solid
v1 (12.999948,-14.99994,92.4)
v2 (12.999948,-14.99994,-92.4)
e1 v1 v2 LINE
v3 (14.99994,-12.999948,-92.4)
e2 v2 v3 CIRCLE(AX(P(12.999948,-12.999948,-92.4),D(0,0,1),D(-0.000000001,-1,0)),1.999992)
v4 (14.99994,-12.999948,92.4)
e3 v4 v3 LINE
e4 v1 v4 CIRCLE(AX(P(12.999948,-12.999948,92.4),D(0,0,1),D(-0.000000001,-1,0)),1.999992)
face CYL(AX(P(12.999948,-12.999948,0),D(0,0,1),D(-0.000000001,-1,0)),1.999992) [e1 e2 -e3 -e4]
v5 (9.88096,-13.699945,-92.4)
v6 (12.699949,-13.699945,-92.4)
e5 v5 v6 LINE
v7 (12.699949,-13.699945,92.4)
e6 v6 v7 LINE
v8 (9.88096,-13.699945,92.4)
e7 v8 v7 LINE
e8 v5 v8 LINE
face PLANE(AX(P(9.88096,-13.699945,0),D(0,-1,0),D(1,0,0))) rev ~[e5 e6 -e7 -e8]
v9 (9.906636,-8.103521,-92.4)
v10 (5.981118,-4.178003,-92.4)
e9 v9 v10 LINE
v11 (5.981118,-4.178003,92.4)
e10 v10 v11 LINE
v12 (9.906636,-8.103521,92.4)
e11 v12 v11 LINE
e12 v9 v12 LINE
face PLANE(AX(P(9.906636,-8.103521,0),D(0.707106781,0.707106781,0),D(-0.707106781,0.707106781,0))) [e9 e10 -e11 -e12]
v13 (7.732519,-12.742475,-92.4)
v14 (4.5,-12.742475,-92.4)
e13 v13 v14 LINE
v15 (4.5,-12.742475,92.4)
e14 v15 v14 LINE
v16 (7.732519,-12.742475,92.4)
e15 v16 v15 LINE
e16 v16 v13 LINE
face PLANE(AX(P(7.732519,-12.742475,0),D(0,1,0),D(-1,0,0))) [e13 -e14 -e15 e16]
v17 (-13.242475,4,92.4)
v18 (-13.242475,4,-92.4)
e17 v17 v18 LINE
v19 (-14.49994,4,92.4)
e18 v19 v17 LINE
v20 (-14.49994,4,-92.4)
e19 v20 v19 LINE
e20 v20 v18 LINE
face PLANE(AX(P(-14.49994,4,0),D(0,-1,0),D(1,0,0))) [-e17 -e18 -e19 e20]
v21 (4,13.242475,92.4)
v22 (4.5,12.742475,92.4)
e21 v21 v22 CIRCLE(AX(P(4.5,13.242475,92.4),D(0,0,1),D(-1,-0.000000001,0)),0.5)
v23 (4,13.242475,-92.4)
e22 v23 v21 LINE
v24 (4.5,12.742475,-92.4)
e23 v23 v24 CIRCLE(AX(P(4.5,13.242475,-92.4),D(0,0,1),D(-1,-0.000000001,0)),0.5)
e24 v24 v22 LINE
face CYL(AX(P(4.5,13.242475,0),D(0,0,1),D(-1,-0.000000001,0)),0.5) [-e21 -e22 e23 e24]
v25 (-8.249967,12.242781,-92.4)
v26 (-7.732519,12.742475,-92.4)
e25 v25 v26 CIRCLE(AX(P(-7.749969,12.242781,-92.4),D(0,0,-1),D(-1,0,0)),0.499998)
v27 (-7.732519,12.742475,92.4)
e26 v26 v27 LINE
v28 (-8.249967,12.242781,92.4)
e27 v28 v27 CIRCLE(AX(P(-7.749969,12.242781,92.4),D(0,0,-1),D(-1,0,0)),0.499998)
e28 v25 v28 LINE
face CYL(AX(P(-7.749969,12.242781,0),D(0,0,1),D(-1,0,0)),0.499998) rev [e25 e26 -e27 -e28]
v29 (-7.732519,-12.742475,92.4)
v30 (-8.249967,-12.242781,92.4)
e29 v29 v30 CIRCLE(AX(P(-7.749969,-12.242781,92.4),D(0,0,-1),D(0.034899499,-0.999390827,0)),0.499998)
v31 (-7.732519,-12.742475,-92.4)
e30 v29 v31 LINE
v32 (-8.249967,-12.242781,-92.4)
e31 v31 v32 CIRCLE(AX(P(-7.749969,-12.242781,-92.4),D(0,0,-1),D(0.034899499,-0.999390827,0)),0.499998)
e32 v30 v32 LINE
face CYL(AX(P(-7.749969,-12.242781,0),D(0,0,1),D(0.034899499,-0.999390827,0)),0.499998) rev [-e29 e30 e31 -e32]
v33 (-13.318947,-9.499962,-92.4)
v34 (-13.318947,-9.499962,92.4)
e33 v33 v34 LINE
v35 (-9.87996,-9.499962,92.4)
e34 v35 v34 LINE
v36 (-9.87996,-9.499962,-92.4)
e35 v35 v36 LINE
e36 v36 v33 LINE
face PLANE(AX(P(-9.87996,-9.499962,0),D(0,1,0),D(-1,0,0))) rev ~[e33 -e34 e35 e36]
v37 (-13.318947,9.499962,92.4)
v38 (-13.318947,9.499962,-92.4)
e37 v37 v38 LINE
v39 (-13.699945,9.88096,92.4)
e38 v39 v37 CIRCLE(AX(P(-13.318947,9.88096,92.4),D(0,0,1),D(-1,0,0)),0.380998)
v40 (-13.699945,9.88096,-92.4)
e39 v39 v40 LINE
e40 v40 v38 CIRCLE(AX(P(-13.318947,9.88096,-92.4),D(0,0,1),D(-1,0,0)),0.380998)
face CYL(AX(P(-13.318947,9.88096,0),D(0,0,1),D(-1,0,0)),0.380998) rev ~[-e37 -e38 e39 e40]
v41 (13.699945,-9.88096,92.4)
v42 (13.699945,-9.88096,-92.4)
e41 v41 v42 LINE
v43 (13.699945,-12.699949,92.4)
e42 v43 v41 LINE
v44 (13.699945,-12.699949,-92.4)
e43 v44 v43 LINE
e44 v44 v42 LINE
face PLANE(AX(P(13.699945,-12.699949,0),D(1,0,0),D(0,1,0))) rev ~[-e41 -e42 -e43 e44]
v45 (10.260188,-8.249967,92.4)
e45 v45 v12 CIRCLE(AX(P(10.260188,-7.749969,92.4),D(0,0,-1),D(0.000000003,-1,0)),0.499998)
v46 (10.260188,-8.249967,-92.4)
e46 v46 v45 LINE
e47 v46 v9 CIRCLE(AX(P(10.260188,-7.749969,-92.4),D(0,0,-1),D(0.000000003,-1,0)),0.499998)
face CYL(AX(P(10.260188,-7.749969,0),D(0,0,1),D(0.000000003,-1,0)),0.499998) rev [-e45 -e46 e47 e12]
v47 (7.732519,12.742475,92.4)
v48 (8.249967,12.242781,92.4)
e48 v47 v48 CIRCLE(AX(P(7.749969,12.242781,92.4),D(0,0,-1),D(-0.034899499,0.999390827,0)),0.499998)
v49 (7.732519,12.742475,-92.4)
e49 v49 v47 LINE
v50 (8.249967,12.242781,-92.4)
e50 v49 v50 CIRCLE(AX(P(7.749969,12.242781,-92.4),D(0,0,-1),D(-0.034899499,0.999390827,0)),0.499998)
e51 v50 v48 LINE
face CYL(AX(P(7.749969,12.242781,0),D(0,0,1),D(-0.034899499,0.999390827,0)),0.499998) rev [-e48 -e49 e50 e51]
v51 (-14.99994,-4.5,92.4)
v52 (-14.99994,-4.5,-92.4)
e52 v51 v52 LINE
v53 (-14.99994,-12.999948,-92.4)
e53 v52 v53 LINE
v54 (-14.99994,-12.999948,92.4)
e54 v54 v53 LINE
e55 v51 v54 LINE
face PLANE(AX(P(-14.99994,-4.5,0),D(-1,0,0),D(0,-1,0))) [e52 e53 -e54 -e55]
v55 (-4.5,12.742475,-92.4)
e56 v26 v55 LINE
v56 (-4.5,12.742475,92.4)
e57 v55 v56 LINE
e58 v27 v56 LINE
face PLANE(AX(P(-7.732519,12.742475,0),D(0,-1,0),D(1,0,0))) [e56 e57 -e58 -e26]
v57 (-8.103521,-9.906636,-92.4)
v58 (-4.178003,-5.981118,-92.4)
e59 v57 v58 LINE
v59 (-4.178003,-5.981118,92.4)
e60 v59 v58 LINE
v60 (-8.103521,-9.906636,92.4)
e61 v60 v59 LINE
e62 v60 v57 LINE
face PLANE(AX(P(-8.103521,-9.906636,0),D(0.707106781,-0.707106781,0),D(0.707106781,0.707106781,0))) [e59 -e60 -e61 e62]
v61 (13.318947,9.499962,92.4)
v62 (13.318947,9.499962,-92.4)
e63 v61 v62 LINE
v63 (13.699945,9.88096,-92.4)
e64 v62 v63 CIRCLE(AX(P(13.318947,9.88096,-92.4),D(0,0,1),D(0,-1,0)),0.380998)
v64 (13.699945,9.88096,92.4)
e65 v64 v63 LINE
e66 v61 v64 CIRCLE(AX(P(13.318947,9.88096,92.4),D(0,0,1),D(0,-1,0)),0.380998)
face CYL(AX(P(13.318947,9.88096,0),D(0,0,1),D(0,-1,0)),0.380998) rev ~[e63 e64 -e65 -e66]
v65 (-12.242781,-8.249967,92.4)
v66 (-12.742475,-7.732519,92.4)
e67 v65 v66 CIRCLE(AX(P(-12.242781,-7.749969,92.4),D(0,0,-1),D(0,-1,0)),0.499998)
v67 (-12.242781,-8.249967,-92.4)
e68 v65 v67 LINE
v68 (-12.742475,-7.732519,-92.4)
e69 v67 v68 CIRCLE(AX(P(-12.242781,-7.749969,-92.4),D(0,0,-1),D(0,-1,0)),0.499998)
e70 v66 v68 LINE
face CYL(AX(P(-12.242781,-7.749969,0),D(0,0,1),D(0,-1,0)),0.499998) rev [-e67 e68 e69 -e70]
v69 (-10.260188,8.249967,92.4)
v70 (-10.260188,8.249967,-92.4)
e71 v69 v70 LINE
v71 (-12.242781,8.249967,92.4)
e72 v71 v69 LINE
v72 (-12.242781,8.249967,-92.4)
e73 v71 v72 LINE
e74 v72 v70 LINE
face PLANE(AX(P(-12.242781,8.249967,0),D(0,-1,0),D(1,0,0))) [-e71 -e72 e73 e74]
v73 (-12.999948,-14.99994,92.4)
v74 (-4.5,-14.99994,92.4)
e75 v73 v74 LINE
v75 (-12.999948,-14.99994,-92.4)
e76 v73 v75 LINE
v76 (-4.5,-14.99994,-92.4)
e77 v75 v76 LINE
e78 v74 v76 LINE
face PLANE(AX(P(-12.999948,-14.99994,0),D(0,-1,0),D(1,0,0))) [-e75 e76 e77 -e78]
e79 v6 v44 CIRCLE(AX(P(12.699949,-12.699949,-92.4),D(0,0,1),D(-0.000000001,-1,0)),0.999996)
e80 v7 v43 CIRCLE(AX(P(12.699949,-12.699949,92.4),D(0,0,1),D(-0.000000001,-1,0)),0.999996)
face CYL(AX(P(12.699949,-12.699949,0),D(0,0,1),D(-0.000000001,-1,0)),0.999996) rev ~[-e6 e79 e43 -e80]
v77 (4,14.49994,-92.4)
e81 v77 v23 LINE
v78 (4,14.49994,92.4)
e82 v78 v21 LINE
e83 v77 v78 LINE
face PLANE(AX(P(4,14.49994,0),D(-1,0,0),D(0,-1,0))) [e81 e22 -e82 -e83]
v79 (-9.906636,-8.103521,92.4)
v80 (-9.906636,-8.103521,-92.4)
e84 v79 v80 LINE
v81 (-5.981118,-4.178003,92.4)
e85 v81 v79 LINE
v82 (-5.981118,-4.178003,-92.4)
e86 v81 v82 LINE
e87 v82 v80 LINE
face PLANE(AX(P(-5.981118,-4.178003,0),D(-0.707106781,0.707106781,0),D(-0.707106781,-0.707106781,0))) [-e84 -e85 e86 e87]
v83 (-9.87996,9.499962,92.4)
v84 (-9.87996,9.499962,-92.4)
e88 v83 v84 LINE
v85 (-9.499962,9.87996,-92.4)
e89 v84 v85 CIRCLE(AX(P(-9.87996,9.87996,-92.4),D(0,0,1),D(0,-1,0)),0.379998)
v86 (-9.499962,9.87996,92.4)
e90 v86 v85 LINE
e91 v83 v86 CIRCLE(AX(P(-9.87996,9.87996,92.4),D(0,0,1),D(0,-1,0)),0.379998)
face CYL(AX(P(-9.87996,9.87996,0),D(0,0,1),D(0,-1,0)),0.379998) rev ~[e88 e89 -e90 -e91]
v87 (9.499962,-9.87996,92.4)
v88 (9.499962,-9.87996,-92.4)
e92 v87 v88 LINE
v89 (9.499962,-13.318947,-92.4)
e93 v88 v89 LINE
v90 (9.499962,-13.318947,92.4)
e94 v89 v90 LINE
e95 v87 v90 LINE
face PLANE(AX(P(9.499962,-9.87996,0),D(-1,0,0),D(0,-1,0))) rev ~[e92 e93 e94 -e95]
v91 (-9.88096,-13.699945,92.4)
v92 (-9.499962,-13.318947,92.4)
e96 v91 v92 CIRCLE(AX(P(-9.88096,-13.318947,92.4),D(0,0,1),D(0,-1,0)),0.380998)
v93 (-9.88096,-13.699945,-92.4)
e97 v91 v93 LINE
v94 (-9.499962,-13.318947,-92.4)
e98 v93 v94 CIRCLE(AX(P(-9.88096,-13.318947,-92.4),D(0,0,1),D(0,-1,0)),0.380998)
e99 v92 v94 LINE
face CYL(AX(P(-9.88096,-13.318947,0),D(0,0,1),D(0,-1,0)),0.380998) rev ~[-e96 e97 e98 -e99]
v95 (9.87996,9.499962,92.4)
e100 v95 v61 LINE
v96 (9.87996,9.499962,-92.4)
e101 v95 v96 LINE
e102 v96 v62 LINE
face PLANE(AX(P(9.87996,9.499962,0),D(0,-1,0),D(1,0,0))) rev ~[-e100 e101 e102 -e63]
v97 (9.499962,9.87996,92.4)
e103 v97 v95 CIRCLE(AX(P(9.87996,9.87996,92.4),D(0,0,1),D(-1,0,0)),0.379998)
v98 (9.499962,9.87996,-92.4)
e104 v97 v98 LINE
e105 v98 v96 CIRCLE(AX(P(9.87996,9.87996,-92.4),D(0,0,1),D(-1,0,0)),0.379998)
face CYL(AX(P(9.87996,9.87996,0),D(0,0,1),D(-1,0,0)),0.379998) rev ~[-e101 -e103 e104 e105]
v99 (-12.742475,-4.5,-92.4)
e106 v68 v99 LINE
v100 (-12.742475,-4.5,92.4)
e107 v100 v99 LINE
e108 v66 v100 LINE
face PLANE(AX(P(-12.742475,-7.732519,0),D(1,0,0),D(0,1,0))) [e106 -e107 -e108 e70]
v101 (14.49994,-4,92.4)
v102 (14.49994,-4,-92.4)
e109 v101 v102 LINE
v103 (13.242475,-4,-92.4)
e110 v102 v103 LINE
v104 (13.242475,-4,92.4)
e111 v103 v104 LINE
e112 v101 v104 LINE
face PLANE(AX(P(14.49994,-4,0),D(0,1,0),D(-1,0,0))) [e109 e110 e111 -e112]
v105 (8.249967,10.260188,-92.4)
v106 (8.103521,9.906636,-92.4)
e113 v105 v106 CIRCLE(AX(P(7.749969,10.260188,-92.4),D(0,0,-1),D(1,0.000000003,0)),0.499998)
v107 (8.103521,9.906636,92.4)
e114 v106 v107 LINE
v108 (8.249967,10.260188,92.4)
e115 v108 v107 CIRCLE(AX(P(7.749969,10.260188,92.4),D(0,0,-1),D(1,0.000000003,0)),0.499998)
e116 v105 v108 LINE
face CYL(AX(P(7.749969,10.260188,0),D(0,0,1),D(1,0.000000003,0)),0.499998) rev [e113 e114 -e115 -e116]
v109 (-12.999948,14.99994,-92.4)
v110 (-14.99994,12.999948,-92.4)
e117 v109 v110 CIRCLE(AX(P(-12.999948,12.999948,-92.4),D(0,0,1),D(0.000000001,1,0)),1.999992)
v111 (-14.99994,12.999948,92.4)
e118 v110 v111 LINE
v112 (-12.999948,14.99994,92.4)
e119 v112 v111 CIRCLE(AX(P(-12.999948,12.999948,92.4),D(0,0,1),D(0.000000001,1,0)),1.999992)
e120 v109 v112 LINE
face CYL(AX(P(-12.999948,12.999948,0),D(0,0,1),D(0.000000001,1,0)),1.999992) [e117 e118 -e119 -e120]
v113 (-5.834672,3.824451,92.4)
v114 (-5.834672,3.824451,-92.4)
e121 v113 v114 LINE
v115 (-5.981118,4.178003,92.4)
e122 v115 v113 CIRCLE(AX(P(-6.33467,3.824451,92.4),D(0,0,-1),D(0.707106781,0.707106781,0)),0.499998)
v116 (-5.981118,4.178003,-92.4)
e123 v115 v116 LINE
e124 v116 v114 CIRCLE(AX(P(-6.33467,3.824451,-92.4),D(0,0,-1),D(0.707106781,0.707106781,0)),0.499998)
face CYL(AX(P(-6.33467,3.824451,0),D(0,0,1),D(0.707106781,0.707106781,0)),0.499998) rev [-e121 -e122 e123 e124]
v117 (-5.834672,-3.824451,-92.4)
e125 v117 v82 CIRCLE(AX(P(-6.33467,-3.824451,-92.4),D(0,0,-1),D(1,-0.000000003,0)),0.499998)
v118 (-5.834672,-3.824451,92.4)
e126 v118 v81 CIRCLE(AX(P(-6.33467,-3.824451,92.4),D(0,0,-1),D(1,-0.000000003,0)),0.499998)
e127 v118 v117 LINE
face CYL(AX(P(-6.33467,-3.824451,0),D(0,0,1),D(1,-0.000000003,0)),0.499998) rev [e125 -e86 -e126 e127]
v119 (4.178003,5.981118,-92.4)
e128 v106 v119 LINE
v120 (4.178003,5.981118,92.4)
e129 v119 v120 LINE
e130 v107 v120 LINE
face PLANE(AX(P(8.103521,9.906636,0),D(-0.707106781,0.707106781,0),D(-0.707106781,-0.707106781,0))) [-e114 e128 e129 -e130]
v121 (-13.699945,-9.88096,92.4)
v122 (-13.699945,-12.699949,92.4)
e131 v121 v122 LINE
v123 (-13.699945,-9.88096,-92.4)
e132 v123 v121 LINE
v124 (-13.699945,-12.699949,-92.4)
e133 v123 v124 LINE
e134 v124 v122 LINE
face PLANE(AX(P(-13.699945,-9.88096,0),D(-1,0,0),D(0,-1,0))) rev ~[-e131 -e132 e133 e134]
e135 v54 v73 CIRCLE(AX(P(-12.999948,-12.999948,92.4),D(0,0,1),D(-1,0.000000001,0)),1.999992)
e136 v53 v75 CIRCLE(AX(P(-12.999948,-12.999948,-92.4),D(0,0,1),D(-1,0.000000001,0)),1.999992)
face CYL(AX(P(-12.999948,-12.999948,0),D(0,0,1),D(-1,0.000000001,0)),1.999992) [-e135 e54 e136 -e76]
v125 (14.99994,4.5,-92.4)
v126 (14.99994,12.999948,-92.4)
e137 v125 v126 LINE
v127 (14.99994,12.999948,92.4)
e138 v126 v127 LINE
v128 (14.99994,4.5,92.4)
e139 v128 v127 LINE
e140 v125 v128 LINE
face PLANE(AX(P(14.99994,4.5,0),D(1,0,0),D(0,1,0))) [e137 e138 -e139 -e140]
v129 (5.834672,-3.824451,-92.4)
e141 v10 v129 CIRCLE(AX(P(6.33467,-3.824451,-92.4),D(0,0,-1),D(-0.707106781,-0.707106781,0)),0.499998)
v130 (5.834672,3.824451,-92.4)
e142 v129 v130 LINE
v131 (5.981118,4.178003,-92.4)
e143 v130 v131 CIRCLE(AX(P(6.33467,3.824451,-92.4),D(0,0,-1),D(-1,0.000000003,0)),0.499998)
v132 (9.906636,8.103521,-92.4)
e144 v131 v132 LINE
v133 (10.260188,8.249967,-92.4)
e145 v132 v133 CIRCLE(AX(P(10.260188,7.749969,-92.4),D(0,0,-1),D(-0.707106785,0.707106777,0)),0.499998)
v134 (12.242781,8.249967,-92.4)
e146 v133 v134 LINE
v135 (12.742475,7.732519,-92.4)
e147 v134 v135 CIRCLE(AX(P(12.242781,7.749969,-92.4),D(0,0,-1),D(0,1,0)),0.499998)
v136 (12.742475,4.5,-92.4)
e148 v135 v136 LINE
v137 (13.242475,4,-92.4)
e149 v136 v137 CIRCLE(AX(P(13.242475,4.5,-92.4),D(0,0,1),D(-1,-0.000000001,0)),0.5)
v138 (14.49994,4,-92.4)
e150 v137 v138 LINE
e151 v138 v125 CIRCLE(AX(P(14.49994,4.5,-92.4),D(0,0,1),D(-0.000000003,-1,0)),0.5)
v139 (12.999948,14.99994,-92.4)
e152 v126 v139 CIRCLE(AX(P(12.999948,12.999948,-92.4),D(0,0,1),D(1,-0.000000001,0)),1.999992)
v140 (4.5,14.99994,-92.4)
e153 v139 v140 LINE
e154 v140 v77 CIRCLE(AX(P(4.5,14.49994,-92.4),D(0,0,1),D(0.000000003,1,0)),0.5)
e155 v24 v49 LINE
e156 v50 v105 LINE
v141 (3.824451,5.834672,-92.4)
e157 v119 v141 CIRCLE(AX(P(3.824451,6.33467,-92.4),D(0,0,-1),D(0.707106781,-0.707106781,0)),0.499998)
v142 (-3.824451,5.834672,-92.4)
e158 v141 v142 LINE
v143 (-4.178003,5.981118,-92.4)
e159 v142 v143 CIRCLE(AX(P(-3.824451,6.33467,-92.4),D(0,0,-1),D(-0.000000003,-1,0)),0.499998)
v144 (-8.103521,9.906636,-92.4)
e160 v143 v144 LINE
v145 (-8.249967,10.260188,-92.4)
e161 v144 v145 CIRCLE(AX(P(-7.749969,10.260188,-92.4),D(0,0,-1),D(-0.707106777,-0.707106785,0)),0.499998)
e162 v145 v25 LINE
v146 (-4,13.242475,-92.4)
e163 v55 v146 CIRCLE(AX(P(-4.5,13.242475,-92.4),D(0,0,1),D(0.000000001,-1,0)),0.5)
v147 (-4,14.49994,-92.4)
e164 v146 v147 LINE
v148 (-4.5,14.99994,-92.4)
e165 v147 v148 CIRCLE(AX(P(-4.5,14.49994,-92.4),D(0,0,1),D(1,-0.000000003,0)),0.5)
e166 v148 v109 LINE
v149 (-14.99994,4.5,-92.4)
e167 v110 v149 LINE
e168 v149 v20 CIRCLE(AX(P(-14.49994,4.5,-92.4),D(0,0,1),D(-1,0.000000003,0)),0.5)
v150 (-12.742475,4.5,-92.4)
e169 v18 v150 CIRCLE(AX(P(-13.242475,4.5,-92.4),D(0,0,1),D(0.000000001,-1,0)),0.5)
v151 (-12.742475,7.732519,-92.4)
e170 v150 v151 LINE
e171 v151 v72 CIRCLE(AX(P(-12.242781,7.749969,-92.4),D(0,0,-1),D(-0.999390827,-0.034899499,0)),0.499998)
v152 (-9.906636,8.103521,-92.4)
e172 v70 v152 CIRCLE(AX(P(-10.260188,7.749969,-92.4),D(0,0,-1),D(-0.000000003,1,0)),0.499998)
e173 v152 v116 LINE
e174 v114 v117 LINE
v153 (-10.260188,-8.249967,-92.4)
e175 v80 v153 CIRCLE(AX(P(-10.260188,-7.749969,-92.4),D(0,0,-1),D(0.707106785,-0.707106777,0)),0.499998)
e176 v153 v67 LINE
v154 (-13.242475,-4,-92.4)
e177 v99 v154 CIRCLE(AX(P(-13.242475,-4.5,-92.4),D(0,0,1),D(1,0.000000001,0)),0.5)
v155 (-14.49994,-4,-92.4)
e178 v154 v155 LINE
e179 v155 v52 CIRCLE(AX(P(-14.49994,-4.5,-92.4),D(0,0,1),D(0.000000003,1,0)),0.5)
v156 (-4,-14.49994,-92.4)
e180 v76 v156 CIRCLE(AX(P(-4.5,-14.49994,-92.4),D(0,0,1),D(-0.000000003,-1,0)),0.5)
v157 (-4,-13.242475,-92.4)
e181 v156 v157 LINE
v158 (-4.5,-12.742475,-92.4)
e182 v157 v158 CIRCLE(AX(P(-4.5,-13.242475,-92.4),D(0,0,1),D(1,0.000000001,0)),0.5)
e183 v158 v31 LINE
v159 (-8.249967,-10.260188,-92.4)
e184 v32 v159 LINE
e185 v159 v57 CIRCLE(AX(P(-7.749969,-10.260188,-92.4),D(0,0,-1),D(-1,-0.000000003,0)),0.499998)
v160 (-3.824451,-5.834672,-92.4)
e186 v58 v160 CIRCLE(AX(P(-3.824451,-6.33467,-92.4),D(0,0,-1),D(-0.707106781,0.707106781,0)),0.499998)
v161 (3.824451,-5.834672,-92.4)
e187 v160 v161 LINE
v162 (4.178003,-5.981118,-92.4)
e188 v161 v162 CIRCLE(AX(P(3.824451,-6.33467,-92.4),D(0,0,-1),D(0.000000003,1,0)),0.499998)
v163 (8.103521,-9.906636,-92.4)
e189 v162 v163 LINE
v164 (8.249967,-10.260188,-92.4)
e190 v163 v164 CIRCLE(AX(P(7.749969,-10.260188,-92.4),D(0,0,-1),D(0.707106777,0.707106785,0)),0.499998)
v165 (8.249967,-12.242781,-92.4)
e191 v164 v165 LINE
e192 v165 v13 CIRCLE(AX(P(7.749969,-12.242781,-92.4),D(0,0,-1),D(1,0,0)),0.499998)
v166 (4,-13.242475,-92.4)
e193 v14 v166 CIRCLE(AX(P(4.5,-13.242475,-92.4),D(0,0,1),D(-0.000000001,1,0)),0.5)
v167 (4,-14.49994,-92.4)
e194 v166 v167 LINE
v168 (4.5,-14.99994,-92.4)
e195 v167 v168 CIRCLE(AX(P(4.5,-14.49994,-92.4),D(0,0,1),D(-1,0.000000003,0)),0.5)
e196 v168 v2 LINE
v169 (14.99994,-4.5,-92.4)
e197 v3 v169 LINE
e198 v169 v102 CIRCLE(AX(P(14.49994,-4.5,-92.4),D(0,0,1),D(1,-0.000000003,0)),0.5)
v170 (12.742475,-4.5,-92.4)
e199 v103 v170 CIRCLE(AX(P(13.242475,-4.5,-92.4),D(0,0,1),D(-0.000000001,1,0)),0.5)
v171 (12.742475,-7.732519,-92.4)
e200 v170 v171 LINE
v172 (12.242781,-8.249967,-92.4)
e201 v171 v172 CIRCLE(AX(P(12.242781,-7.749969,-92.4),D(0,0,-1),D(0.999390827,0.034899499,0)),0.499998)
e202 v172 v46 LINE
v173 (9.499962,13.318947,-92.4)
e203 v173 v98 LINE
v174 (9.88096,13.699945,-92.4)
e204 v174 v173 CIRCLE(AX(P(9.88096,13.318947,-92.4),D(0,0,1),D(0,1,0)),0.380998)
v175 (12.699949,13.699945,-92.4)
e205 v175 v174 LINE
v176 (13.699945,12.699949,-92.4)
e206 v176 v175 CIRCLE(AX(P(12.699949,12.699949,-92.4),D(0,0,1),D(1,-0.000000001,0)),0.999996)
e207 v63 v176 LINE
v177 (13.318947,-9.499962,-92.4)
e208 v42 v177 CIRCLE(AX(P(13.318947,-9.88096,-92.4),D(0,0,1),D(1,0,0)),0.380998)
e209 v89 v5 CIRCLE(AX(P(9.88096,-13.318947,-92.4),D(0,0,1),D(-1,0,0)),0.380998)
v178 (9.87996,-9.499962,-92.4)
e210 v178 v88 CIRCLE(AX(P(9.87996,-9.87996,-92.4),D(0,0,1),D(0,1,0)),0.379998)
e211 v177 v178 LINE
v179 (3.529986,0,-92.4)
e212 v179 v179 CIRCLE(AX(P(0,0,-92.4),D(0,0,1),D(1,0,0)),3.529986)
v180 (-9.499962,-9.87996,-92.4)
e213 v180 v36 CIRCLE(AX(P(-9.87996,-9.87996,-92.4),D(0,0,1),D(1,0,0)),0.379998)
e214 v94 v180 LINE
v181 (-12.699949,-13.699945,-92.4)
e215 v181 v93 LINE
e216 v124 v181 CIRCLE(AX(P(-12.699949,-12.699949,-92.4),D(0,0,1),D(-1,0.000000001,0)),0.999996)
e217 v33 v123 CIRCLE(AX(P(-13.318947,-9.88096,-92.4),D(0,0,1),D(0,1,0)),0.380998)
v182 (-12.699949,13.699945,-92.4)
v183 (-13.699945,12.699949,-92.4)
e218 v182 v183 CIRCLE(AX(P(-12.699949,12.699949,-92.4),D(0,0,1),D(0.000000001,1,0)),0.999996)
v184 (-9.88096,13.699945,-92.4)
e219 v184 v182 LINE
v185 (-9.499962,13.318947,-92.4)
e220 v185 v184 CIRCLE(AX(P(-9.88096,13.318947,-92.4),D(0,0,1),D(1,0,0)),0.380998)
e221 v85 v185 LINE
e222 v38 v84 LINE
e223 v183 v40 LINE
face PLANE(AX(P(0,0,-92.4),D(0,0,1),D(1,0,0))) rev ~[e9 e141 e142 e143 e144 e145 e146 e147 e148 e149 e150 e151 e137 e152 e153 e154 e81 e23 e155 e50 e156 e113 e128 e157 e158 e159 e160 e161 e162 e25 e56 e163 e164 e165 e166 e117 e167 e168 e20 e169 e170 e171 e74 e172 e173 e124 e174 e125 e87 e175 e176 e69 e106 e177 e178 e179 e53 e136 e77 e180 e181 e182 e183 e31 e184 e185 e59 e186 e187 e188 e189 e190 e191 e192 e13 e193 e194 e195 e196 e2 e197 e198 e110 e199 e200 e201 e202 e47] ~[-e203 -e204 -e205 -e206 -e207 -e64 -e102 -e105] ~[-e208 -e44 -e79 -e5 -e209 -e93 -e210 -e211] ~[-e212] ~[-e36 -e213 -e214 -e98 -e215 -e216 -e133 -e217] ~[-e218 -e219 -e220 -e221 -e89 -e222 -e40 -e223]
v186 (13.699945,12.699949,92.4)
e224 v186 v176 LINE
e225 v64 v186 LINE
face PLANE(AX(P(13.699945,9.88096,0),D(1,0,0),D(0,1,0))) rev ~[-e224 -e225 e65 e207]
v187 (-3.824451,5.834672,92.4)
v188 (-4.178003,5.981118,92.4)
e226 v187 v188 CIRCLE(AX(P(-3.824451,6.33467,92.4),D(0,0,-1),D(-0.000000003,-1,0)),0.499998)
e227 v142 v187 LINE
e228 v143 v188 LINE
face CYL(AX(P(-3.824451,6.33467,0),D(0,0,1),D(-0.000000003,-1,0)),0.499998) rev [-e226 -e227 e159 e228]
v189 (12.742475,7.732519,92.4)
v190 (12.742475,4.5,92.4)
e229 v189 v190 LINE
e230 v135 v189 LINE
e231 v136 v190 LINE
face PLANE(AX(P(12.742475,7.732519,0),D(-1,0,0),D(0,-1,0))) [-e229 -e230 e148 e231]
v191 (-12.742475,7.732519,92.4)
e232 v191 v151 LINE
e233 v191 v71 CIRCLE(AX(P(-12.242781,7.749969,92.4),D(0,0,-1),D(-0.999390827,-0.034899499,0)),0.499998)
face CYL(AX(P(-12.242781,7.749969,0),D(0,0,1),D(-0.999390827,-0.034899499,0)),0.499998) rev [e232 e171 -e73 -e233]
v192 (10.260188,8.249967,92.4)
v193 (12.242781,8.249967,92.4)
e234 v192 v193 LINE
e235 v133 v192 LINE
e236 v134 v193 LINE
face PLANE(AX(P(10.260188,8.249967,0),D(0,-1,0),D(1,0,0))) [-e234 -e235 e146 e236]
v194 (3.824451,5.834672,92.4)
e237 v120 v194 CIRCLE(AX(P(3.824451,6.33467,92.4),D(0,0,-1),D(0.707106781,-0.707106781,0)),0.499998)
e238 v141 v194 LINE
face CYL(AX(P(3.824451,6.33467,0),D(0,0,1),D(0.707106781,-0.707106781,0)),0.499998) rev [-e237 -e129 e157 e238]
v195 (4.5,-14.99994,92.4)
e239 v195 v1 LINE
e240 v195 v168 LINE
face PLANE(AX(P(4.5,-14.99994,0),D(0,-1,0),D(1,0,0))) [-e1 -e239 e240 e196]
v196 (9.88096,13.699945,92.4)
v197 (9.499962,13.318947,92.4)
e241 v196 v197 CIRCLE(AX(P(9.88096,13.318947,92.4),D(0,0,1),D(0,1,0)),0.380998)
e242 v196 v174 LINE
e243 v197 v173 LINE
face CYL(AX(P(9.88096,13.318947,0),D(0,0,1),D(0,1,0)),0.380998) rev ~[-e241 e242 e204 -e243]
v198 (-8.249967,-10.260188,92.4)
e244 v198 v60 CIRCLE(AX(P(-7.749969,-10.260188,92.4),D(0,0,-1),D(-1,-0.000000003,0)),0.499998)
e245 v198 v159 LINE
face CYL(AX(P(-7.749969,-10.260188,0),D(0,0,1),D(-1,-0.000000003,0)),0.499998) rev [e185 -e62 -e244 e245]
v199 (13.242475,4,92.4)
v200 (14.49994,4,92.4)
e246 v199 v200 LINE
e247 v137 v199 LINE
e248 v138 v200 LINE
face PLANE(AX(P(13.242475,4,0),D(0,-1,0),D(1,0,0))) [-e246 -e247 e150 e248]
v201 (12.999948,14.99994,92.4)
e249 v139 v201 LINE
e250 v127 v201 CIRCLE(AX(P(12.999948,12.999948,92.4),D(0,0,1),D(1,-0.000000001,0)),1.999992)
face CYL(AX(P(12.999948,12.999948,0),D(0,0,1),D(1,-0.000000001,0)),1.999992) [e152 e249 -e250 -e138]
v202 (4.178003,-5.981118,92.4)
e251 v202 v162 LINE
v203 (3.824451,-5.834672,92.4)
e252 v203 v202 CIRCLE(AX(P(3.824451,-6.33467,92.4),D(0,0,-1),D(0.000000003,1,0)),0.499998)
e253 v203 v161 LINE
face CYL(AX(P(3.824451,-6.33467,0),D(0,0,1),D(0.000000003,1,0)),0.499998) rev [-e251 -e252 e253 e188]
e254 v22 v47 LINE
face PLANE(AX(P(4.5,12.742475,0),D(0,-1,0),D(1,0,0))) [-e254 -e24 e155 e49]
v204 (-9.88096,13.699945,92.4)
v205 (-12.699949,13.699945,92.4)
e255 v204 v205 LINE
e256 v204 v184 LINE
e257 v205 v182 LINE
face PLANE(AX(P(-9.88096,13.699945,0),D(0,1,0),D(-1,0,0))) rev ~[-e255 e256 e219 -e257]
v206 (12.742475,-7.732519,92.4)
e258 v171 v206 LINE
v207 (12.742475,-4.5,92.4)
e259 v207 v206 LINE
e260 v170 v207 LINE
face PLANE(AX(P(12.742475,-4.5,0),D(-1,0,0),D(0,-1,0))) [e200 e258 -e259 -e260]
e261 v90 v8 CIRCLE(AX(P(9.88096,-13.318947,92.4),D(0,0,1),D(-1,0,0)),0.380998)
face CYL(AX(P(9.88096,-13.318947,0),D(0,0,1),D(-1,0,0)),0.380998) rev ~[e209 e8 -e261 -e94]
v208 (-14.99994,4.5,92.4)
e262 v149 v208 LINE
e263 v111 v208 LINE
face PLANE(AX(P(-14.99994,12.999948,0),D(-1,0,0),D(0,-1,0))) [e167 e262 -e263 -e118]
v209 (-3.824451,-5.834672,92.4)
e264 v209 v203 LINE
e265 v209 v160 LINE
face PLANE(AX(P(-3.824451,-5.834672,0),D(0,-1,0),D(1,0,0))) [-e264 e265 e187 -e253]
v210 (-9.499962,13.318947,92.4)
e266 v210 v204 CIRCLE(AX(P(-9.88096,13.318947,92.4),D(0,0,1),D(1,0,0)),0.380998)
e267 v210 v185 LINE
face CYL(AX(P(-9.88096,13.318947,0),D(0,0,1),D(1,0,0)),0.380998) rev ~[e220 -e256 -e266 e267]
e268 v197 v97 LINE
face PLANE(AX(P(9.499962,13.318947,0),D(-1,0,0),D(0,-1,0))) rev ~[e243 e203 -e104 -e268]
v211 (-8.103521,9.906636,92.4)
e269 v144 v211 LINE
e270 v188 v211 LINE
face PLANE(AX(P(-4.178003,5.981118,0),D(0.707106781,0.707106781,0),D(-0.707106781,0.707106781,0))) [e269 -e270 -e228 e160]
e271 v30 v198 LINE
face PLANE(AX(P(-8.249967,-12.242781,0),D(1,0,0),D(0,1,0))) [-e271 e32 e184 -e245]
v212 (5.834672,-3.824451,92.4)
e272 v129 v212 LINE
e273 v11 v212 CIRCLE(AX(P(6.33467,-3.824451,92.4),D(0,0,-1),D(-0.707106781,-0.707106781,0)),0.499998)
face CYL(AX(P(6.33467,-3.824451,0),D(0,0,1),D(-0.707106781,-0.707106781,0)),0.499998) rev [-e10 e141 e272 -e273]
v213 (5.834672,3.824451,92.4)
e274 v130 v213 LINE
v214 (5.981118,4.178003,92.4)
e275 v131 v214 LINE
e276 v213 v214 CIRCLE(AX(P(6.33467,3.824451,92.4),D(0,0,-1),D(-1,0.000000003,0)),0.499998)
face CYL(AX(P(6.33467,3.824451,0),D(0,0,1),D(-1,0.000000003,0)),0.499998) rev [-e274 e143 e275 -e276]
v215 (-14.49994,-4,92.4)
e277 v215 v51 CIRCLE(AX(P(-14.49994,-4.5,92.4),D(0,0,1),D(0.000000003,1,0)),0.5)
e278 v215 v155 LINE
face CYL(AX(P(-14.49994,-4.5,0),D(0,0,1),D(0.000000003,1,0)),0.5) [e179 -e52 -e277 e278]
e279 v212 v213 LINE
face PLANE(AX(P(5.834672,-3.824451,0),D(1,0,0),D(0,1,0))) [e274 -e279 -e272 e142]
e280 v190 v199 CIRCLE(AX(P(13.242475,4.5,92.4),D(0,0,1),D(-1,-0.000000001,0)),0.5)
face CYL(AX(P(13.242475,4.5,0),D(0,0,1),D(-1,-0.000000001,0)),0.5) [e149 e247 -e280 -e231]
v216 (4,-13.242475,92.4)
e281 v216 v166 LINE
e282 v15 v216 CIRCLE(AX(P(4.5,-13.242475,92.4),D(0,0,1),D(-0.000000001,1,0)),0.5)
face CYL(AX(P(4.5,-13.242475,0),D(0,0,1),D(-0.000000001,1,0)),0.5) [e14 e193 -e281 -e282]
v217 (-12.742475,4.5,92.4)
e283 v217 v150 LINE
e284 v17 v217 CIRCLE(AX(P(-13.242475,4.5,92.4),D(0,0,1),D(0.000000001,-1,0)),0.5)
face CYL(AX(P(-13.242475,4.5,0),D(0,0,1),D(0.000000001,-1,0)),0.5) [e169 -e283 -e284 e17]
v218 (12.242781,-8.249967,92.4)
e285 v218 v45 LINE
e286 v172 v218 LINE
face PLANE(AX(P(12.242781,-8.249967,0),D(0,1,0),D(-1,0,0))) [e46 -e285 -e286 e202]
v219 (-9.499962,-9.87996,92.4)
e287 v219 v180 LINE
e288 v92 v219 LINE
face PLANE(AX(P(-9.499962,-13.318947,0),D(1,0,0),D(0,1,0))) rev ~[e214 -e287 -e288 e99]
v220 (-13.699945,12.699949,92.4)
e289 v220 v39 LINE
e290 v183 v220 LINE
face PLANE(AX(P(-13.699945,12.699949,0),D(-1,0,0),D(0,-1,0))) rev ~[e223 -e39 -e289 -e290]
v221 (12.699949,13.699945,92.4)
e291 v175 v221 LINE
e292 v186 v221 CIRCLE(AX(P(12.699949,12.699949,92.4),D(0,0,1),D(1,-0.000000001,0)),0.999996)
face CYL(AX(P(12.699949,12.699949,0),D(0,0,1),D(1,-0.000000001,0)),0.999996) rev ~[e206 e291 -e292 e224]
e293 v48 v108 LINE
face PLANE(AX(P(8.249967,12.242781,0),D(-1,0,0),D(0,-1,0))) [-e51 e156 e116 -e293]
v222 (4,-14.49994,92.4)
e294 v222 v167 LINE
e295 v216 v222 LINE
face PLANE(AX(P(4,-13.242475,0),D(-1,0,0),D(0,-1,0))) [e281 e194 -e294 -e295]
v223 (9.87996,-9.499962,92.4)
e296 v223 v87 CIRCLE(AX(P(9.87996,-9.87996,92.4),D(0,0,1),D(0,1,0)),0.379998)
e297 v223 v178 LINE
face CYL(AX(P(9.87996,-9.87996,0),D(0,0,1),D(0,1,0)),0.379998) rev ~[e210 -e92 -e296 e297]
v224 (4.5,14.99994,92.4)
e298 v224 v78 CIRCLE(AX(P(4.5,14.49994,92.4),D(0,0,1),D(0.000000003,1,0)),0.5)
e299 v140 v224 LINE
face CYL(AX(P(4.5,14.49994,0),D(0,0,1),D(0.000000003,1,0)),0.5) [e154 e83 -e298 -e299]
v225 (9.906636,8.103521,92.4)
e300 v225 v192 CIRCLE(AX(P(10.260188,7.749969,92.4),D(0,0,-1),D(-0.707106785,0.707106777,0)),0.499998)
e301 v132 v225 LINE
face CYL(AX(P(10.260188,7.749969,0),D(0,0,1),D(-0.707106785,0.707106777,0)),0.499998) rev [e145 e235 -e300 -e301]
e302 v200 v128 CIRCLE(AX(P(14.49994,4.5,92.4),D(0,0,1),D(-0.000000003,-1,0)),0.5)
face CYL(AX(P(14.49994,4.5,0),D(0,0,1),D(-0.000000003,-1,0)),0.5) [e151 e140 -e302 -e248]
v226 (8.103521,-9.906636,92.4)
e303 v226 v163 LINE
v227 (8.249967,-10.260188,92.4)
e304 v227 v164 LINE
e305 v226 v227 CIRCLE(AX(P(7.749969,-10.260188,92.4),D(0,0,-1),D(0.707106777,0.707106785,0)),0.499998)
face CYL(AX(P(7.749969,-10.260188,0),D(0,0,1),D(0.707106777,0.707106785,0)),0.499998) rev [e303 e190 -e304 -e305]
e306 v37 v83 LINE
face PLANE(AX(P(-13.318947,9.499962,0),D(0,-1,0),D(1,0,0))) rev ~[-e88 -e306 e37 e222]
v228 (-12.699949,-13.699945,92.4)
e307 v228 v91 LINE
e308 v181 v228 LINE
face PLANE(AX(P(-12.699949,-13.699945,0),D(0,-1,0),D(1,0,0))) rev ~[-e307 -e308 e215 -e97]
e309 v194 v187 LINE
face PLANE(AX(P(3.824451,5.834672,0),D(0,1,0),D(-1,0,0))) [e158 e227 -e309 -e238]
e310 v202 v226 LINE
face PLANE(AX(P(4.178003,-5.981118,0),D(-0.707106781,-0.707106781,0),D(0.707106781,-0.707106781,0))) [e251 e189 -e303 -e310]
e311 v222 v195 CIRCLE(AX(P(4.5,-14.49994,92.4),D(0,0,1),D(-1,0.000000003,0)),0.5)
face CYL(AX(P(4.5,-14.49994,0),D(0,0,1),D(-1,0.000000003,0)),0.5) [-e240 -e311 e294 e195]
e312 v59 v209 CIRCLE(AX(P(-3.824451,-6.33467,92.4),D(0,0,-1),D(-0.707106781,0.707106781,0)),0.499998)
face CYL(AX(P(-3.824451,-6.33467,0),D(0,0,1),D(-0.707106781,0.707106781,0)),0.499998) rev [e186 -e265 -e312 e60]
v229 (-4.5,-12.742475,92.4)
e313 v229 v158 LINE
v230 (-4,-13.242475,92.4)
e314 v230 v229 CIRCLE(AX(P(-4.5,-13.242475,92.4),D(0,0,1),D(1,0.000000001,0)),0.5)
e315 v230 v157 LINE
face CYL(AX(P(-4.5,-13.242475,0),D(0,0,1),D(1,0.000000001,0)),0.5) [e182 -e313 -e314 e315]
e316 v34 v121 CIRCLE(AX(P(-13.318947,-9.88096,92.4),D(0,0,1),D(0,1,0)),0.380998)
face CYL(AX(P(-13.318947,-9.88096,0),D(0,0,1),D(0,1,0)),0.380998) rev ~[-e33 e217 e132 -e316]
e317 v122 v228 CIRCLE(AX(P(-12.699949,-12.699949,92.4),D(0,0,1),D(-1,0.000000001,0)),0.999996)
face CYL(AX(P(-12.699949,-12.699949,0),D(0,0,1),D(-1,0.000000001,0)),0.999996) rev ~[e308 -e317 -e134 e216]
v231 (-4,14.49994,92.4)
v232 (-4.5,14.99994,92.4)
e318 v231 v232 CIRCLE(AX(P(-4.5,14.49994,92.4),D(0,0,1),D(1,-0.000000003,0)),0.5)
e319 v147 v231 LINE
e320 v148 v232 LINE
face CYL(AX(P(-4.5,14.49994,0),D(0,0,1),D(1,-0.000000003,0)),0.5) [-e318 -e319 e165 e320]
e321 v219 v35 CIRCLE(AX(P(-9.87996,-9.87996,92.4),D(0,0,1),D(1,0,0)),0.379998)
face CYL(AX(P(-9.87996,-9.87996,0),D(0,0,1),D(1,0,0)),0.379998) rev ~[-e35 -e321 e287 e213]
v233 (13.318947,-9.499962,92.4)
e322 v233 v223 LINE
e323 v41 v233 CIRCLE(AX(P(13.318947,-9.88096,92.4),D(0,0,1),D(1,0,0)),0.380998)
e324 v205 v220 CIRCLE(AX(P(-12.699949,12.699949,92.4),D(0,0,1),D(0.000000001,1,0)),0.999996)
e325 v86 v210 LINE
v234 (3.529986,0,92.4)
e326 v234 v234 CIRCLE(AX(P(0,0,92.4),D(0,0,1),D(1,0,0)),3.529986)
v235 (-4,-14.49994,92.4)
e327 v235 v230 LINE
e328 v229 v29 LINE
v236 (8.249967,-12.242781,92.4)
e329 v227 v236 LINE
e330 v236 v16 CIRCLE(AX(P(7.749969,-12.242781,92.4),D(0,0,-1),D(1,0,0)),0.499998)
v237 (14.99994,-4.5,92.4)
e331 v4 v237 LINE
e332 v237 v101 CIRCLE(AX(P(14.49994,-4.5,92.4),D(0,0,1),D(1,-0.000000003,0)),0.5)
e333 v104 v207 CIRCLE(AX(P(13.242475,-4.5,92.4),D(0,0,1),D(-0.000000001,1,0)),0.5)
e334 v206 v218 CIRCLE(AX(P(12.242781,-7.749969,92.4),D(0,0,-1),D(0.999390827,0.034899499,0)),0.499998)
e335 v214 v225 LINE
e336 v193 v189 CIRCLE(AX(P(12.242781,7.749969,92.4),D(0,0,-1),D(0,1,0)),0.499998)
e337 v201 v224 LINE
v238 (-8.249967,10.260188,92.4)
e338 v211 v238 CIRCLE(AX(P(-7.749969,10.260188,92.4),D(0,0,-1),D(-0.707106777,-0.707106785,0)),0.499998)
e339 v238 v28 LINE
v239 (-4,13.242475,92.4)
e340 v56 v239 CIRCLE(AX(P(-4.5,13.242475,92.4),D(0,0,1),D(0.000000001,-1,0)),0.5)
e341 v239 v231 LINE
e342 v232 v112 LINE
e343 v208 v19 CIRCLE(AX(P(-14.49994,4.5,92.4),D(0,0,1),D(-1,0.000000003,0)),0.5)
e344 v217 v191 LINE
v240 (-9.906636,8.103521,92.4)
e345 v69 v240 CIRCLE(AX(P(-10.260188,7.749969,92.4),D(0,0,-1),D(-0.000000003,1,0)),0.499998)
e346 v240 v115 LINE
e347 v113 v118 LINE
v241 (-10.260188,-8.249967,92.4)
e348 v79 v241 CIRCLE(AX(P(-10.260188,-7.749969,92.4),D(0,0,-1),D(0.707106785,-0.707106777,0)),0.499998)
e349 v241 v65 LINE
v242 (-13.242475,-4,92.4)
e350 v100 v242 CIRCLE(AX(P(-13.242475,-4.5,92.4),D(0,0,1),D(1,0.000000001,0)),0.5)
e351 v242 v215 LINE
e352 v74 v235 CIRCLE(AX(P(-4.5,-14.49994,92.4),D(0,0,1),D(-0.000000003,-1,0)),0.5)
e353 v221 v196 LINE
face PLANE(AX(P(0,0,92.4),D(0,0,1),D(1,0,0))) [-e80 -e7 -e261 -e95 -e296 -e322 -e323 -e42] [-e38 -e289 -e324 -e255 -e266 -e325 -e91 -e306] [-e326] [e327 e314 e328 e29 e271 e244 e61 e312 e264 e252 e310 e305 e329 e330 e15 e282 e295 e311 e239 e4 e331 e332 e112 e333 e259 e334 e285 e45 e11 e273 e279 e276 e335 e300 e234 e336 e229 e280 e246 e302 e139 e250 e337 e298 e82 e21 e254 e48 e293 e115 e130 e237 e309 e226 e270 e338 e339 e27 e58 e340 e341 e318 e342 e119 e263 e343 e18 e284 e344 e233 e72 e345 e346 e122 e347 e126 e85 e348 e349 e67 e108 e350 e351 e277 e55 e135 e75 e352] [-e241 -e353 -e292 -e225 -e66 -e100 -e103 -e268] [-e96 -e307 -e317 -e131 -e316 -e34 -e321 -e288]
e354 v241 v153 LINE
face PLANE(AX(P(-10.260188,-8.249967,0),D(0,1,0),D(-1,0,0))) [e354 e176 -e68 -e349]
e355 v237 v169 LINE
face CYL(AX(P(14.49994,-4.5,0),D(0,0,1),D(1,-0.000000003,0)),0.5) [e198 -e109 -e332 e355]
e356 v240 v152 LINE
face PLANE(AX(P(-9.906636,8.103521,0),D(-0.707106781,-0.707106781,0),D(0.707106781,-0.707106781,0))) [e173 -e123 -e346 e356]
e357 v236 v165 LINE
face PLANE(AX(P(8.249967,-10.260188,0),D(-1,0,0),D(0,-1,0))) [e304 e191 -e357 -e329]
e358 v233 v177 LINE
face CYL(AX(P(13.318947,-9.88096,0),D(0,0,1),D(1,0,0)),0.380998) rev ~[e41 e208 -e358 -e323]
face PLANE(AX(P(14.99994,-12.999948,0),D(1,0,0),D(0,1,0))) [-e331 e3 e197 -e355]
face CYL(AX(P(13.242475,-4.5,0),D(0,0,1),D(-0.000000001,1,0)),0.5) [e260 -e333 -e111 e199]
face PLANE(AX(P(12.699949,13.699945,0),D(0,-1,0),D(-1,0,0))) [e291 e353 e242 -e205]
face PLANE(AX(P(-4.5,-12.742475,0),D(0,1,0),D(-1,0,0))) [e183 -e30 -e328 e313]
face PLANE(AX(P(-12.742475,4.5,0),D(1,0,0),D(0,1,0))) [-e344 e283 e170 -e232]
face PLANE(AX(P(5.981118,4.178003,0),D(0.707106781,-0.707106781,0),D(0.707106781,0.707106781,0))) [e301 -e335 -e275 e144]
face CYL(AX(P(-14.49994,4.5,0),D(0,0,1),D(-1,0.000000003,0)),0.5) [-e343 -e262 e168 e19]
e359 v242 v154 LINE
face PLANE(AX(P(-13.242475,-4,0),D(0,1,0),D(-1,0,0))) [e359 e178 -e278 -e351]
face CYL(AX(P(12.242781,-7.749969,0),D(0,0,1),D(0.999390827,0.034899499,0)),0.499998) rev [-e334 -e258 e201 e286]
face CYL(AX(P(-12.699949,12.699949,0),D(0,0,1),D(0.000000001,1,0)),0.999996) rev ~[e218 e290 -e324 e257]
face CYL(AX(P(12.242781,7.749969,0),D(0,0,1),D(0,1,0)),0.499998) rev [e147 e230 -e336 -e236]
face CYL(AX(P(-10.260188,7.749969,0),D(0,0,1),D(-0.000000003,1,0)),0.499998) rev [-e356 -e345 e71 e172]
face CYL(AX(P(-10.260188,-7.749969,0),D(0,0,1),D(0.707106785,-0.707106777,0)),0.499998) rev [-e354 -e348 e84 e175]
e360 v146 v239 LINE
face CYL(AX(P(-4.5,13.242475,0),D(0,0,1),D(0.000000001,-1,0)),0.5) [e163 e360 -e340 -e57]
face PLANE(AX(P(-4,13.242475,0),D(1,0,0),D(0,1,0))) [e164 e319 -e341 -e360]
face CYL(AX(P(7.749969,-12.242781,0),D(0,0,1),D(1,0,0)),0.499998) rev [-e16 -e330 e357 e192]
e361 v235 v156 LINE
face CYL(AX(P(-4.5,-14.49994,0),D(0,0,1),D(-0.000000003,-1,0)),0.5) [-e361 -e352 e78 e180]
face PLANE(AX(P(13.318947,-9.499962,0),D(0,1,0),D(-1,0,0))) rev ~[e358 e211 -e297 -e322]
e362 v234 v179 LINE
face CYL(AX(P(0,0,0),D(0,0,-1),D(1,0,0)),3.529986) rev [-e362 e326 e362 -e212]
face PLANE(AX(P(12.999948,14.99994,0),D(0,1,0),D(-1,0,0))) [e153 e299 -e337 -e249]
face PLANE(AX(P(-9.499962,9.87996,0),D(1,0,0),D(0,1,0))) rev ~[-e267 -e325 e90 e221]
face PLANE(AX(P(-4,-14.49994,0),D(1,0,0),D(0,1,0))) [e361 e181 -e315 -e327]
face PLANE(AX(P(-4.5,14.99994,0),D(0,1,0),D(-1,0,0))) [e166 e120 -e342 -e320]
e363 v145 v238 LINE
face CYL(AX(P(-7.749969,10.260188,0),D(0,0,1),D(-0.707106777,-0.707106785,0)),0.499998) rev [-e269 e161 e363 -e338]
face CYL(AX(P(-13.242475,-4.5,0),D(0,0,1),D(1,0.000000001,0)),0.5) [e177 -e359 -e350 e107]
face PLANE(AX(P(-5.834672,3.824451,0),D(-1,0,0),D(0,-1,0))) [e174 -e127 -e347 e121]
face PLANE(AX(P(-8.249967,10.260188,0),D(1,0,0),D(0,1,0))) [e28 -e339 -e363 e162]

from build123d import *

# Parameters (mm, degrees)
SKETCH1_R           = 3.52998588
BOSS_EXTRUDE1_DEPTH = 92.4


with BuildPart() as part:
    # Sketch1 → Boss-Extrude1 (new, symmetric)
    with BuildSketch(Plane.XY):
        with BuildLine():
            Line((14.49994, -4), (13.24247465, -4))
            ThreePointArc((13.24247465, -4), (12.88892126, -4.146446609), (12.74247465, -4.5))
            Line((12.74247465, -4.5), (12.74247465, -7.732519321))
            ThreePointArc((12.74247465, -7.732519321), (12.602449697, -8.097296796), (12.242781236, -8.249967))
            Line((12.242781236, -8.249967), (10.260188032, -8.249967))
            ThreePointArc((10.260188032, -8.249967), (10.068847082, -8.211906919), (9.906636056, -8.103520976))
            Line((9.906636056, -8.103520976), (5.981117769, -4.178002689))
            ThreePointArc((5.981117769, -4.178002689), (5.872731827, -4.015791664), (5.834671745, -3.824450713))
            Line((5.834671745, -3.824450713), (5.834671745, -1.01249595))
            Line((5.834671745, -1.01249595), (5.834671745, 0.88749645))
            Line((5.834671745, 0.88749645), (5.834671745, 3.824450713))
            ThreePointArc((5.834671745, 3.824450713), (5.872731827, 4.015791664), (5.981117769, 4.178002689))
            Line((5.981117769, 4.178002689), (9.906636056, 8.103520976))
            ThreePointArc((9.906636056, 8.103520976), (10.068847082, 8.211906919), (10.260188032, 8.249967))
            Line((10.260188032, 8.249967), (12.242781236, 8.249967))
            ThreePointArc((12.242781236, 8.249967), (12.602449697, 8.097296796), (12.74247465, 7.732519321))
            Line((12.74247465, 7.732519321), (12.74247465, 4.5))
            ThreePointArc((12.74247465, 4.5), (12.88892126, 4.146446609), (13.24247465, 4))
            Line((13.24247465, 4), (14.49994, 4))
            ThreePointArc((14.49994, 4), (14.853493391, 4.146446609), (14.99994, 4.5))
            Line((14.99994, 4.5), (14.99994, 12.999948))
            ThreePointArc((14.99994, 12.999948), (14.414155906, 14.414155906), (12.999948, 14.99994))
            Line((12.999948, 14.99994), (4.5, 14.99994))
            ThreePointArc((4.5, 14.99994), (4.146446609, 14.853493391), (4, 14.49994))
            Line((4, 14.49994), (4, 13.24247465))
            ThreePointArc((4, 13.24247465), (4.146446609, 12.88892126), (4.5, 12.74247465))
            Line((4.5, 12.74247465), (7.732519321, 12.74247465))
            ThreePointArc((7.732519321, 12.74247465), (8.097296796, 12.602449697), (8.249967, 12.242781236))
            Line((8.249967, 12.242781236), (8.249967, 10.260188032))
            ThreePointArc((8.249967, 10.260188032), (8.211906919, 10.068847082), (8.103520976, 9.906636056))
            Line((8.103520976, 9.906636056), (4.178002689, 5.981117769))
            ThreePointArc((4.178002689, 5.981117769), (4.015791664, 5.872731827), (3.824450713, 5.834671745))
            Line((3.824450713, 5.834671745), (0.9499962, 5.834671745))
            Line((0.9499962, 5.834671745), (-0.9499962, 5.834671745))
            Line((-0.9499962, 5.834671745), (-3.824450713, 5.834671745))
            ThreePointArc((-3.824450713, 5.834671745), (-4.015791664, 5.872731827), (-4.178002689, 5.981117769))
            Line((-4.178002689, 5.981117769), (-8.103520976, 9.906636056))
            ThreePointArc((-8.103520976, 9.906636056), (-8.211906919, 10.068847082), (-8.249967, 10.260188032))
            Line((-8.249967, 10.260188032), (-8.249967, 12.242781236))
            ThreePointArc((-8.249967, 12.242781236), (-8.097296796, 12.602449697), (-7.732519321, 12.74247465))
            Line((-7.732519321, 12.74247465), (-4.5, 12.74247465))
            ThreePointArc((-4.5, 12.74247465), (-4.146446609, 12.88892126), (-4, 13.24247465))
            Line((-4, 13.24247465), (-4, 14.49994))
            ThreePointArc((-4, 14.49994), (-4.146446609, 14.853493391), (-4.5, 14.99994))
            Line((-4.5, 14.99994), (-12.999948, 14.99994))
            ThreePointArc((-12.999948, 14.99994), (-14.414155906, 14.414155906), (-14.99994, 12.999948))
            Line((-14.99994, 12.999948), (-14.99994, 4.5))
            ThreePointArc((-14.99994, 4.5), (-14.853493391, 4.146446609), (-14.49994, 4))
            Line((-14.49994, 4), (-13.24247465, 4))
            ThreePointArc((-13.24247465, 4), (-12.88892126, 4.146446609), (-12.74247465, 4.5))
            Line((-12.74247465, 4.5), (-12.74247465, 7.732519321))
            ThreePointArc((-12.74247465, 7.732519321), (-12.602449697, 8.097296796), (-12.242781236, 8.249967))
            Line((-12.242781236, 8.249967), (-10.260188032, 8.249967))
            ThreePointArc((-10.260188032, 8.249967), (-10.068847082, 8.211906919), (-9.906636056, 8.103520976))
            Line((-9.906636056, 8.103520976), (-5.981117769, 4.178002689))
            ThreePointArc((-5.981117769, 4.178002689), (-5.872731827, 4.015791664), (-5.834671745, 3.824450713))
            Line((-5.834671745, 3.824450713), (-5.834671745, 0.88749645))
            Line((-5.834671745, 0.88749645), (-5.834671745, -1.01249595))
            Line((-5.834671745, -1.01249595), (-5.834671745, -3.824450713))
            ThreePointArc((-5.834671745, -3.824450713), (-5.872731827, -4.015791664), (-5.981117769, -4.178002689))
            Line((-5.981117769, -4.178002689), (-9.906636056, -8.103520976))
            ThreePointArc((-9.906636056, -8.103520976), (-10.068847082, -8.211906919), (-10.260188032, -8.249967))
            Line((-10.260188032, -8.249967), (-12.242781236, -8.249967))
            ThreePointArc((-12.242781236, -8.249967), (-12.602449697, -8.097296796), (-12.74247465, -7.732519321))
            Line((-12.74247465, -7.732519321), (-12.74247465, -4.5))
            ThreePointArc((-12.74247465, -4.5), (-12.88892126, -4.146446609), (-13.24247465, -4))
            Line((-13.24247465, -4), (-14.49994, -4))
            ThreePointArc((-14.49994, -4), (-14.853493391, -4.146446609), (-14.99994, -4.5))
            Line((-14.99994, -4.5), (-14.99994, -12.999948))
            ThreePointArc((-14.99994, -12.999948), (-14.414155906, -14.414155906), (-12.999948, -14.99994))
            Line((-12.999948, -14.99994), (-4.5, -14.99994))
            ThreePointArc((-4.5, -14.99994), (-4.146446609, -14.853493391), (-4, -14.49994))
            Line((-4, -14.49994), (-4, -13.24247465))
            ThreePointArc((-4, -13.24247465), (-4.146446609, -12.88892126), (-4.5, -12.74247465))
            Line((-4.5, -12.74247465), (-7.732519321, -12.74247465))
            ThreePointArc((-7.732519321, -12.74247465), (-8.097296796, -12.602449697), (-8.249967, -12.242781236))
            Line((-8.249967, -12.242781236), (-8.249967, -10.260188032))
            ThreePointArc((-8.249967, -10.260188032), (-8.211906919, -10.068847082), (-8.103520976, -9.906636056))
            Line((-8.103520976, -9.906636056), (-4.178002689, -5.981117769))
            ThreePointArc((-4.178002689, -5.981117769), (-4.015791664, -5.872731827), (-3.824450713, -5.834671745))
            Line((-3.824450713, -5.834671745), (-0.9499962, -5.834671745))
            Line((-0.9499962, -5.834671745), (0.9499962, -5.834671745))
            Line((0.9499962, -5.834671745), (3.824450713, -5.834671745))
            ThreePointArc((3.824450713, -5.834671745), (4.015791664, -5.872731827), (4.178002689, -5.981117769))
            Line((4.178002689, -5.981117769), (8.103520976, -9.906636056))
            ThreePointArc((8.103520976, -9.906636056), (8.211906919, -10.068847082), (8.249967, -10.260188032))
            Line((8.249967, -10.260188032), (8.249967, -12.242781236))
            ThreePointArc((8.249967, -12.242781236), (8.097296796, -12.602449697), (7.732519321, -12.74247465))
            Line((7.732519321, -12.74247465), (4.5, -12.74247465))
            ThreePointArc((4.5, -12.74247465), (4.146446609, -12.88892126), (4, -13.24247465))
            Line((4, -13.24247465), (4, -14.49994))
            ThreePointArc((4, -14.49994), (4.146446609, -14.853493391), (4.5, -14.99994))
            Line((4.5, -14.99994), (12.999948, -14.99994))
            ThreePointArc((12.999948, -14.99994), (14.414155906, -14.414155906), (14.99994, -12.999948))
            Line((14.99994, -12.999948), (14.99994, -4.5))
            ThreePointArc((14.99994, -4.5), (14.853493391, -4.146446609), (14.49994, -4))
        make_face()
        Circle(SKETCH1_R, mode=Mode.SUBTRACT)
        with BuildLine():
            Line((-12.6999492, -13.6999452), (-9.880960476, -13.6999452))
            ThreePointArc((-9.880960476, -13.6999452), (-9.61155387, -13.58835333), (-9.499962, -13.318946724))
            Line((-9.499962, -13.318946724), (-9.499962, -9.87996048))
            ThreePointArc((-9.499962, -9.87996048), (-9.611260978, -9.611260978), (-9.87996048, -9.499962))
            Line((-9.87996048, -9.499962), (-13.318946724, -9.499962))
            ThreePointArc((-13.318946724, -9.499962), (-13.58835333, -9.61155387), (-13.6999452, -9.880960476))
            Line((-13.6999452, -9.880960476), (-13.6999452, -12.6999492))
            ThreePointArc((-13.6999452, -12.6999492), (-13.407053153, -13.407053153), (-12.6999492, -13.6999452))
        make_face(mode=Mode.SUBTRACT)
        with BuildLine():
            Line((13.6999452, -12.6999492), (13.6999452, -9.880960476))
            ThreePointArc((13.6999452, -9.880960476), (13.58835333, -9.61155387), (13.318946724, -9.499962))
            Line((13.318946724, -9.499962), (9.87996048, -9.499962))
            ThreePointArc((9.87996048, -9.499962), (9.611260978, -9.611260978), (9.499962, -9.87996048))
            Line((9.499962, -9.87996048), (9.499962, -13.318946724))
            ThreePointArc((9.499962, -13.318946724), (9.61155387, -13.58835333), (9.880960476, -13.6999452))
            Line((9.880960476, -13.6999452), (12.6999492, -13.6999452))
            ThreePointArc((12.6999492, -13.6999452), (13.407053153, -13.407053153), (13.6999452, -12.6999492))
        make_face(mode=Mode.SUBTRACT)
        with BuildLine():
            Line((9.87996048, 9.499962), (13.318946724, 9.499962))
            ThreePointArc((13.318946724, 9.499962), (13.58835333, 9.61155387), (13.6999452, 9.880960476))
            Line((13.6999452, 9.880960476), (13.6999452, 12.6999492))
            ThreePointArc((13.6999452, 12.6999492), (13.407053153, 13.407053153), (12.6999492, 13.6999452))
            Line((12.6999492, 13.6999452), (9.880960476, 13.6999452))
            ThreePointArc((9.880960476, 13.6999452), (9.61155387, 13.58835333), (9.499962, 13.318946724))
            Line((9.499962, 13.318946724), (9.499962, 9.87996048))
            ThreePointArc((9.499962, 9.87996048), (9.611260978, 9.611260978), (9.87996048, 9.499962))
        make_face(mode=Mode.SUBTRACT)
        with BuildLine():
            Line((-13.6999452, 12.6999492), (-13.6999452, 9.880960476))
            ThreePointArc((-13.6999452, 9.880960476), (-13.58835333, 9.61155387), (-13.318946724, 9.499962))
            Line((-13.318946724, 9.499962), (-9.87996048, 9.499962))
            ThreePointArc((-9.87996048, 9.499962), (-9.611260978, 9.611260978), (-9.499962, 9.87996048))
            Line((-9.499962, 9.87996048), (-9.499962, 13.318946724))
            ThreePointArc((-9.499962, 13.318946724), (-9.61155387, 13.58835333), (-9.880960476, 13.6999452))
            Line((-9.880960476, 13.6999452), (-12.6999492, 13.6999452))
            ThreePointArc((-12.6999492, 13.6999452), (-13.407053153, 13.407053153), (-13.6999452, 12.6999492))
        make_face(mode=Mode.SUBTRACT)
    extrude(amount=BOSS_EXTRUDE1_DEPTH, both=True)


solid = part.part
